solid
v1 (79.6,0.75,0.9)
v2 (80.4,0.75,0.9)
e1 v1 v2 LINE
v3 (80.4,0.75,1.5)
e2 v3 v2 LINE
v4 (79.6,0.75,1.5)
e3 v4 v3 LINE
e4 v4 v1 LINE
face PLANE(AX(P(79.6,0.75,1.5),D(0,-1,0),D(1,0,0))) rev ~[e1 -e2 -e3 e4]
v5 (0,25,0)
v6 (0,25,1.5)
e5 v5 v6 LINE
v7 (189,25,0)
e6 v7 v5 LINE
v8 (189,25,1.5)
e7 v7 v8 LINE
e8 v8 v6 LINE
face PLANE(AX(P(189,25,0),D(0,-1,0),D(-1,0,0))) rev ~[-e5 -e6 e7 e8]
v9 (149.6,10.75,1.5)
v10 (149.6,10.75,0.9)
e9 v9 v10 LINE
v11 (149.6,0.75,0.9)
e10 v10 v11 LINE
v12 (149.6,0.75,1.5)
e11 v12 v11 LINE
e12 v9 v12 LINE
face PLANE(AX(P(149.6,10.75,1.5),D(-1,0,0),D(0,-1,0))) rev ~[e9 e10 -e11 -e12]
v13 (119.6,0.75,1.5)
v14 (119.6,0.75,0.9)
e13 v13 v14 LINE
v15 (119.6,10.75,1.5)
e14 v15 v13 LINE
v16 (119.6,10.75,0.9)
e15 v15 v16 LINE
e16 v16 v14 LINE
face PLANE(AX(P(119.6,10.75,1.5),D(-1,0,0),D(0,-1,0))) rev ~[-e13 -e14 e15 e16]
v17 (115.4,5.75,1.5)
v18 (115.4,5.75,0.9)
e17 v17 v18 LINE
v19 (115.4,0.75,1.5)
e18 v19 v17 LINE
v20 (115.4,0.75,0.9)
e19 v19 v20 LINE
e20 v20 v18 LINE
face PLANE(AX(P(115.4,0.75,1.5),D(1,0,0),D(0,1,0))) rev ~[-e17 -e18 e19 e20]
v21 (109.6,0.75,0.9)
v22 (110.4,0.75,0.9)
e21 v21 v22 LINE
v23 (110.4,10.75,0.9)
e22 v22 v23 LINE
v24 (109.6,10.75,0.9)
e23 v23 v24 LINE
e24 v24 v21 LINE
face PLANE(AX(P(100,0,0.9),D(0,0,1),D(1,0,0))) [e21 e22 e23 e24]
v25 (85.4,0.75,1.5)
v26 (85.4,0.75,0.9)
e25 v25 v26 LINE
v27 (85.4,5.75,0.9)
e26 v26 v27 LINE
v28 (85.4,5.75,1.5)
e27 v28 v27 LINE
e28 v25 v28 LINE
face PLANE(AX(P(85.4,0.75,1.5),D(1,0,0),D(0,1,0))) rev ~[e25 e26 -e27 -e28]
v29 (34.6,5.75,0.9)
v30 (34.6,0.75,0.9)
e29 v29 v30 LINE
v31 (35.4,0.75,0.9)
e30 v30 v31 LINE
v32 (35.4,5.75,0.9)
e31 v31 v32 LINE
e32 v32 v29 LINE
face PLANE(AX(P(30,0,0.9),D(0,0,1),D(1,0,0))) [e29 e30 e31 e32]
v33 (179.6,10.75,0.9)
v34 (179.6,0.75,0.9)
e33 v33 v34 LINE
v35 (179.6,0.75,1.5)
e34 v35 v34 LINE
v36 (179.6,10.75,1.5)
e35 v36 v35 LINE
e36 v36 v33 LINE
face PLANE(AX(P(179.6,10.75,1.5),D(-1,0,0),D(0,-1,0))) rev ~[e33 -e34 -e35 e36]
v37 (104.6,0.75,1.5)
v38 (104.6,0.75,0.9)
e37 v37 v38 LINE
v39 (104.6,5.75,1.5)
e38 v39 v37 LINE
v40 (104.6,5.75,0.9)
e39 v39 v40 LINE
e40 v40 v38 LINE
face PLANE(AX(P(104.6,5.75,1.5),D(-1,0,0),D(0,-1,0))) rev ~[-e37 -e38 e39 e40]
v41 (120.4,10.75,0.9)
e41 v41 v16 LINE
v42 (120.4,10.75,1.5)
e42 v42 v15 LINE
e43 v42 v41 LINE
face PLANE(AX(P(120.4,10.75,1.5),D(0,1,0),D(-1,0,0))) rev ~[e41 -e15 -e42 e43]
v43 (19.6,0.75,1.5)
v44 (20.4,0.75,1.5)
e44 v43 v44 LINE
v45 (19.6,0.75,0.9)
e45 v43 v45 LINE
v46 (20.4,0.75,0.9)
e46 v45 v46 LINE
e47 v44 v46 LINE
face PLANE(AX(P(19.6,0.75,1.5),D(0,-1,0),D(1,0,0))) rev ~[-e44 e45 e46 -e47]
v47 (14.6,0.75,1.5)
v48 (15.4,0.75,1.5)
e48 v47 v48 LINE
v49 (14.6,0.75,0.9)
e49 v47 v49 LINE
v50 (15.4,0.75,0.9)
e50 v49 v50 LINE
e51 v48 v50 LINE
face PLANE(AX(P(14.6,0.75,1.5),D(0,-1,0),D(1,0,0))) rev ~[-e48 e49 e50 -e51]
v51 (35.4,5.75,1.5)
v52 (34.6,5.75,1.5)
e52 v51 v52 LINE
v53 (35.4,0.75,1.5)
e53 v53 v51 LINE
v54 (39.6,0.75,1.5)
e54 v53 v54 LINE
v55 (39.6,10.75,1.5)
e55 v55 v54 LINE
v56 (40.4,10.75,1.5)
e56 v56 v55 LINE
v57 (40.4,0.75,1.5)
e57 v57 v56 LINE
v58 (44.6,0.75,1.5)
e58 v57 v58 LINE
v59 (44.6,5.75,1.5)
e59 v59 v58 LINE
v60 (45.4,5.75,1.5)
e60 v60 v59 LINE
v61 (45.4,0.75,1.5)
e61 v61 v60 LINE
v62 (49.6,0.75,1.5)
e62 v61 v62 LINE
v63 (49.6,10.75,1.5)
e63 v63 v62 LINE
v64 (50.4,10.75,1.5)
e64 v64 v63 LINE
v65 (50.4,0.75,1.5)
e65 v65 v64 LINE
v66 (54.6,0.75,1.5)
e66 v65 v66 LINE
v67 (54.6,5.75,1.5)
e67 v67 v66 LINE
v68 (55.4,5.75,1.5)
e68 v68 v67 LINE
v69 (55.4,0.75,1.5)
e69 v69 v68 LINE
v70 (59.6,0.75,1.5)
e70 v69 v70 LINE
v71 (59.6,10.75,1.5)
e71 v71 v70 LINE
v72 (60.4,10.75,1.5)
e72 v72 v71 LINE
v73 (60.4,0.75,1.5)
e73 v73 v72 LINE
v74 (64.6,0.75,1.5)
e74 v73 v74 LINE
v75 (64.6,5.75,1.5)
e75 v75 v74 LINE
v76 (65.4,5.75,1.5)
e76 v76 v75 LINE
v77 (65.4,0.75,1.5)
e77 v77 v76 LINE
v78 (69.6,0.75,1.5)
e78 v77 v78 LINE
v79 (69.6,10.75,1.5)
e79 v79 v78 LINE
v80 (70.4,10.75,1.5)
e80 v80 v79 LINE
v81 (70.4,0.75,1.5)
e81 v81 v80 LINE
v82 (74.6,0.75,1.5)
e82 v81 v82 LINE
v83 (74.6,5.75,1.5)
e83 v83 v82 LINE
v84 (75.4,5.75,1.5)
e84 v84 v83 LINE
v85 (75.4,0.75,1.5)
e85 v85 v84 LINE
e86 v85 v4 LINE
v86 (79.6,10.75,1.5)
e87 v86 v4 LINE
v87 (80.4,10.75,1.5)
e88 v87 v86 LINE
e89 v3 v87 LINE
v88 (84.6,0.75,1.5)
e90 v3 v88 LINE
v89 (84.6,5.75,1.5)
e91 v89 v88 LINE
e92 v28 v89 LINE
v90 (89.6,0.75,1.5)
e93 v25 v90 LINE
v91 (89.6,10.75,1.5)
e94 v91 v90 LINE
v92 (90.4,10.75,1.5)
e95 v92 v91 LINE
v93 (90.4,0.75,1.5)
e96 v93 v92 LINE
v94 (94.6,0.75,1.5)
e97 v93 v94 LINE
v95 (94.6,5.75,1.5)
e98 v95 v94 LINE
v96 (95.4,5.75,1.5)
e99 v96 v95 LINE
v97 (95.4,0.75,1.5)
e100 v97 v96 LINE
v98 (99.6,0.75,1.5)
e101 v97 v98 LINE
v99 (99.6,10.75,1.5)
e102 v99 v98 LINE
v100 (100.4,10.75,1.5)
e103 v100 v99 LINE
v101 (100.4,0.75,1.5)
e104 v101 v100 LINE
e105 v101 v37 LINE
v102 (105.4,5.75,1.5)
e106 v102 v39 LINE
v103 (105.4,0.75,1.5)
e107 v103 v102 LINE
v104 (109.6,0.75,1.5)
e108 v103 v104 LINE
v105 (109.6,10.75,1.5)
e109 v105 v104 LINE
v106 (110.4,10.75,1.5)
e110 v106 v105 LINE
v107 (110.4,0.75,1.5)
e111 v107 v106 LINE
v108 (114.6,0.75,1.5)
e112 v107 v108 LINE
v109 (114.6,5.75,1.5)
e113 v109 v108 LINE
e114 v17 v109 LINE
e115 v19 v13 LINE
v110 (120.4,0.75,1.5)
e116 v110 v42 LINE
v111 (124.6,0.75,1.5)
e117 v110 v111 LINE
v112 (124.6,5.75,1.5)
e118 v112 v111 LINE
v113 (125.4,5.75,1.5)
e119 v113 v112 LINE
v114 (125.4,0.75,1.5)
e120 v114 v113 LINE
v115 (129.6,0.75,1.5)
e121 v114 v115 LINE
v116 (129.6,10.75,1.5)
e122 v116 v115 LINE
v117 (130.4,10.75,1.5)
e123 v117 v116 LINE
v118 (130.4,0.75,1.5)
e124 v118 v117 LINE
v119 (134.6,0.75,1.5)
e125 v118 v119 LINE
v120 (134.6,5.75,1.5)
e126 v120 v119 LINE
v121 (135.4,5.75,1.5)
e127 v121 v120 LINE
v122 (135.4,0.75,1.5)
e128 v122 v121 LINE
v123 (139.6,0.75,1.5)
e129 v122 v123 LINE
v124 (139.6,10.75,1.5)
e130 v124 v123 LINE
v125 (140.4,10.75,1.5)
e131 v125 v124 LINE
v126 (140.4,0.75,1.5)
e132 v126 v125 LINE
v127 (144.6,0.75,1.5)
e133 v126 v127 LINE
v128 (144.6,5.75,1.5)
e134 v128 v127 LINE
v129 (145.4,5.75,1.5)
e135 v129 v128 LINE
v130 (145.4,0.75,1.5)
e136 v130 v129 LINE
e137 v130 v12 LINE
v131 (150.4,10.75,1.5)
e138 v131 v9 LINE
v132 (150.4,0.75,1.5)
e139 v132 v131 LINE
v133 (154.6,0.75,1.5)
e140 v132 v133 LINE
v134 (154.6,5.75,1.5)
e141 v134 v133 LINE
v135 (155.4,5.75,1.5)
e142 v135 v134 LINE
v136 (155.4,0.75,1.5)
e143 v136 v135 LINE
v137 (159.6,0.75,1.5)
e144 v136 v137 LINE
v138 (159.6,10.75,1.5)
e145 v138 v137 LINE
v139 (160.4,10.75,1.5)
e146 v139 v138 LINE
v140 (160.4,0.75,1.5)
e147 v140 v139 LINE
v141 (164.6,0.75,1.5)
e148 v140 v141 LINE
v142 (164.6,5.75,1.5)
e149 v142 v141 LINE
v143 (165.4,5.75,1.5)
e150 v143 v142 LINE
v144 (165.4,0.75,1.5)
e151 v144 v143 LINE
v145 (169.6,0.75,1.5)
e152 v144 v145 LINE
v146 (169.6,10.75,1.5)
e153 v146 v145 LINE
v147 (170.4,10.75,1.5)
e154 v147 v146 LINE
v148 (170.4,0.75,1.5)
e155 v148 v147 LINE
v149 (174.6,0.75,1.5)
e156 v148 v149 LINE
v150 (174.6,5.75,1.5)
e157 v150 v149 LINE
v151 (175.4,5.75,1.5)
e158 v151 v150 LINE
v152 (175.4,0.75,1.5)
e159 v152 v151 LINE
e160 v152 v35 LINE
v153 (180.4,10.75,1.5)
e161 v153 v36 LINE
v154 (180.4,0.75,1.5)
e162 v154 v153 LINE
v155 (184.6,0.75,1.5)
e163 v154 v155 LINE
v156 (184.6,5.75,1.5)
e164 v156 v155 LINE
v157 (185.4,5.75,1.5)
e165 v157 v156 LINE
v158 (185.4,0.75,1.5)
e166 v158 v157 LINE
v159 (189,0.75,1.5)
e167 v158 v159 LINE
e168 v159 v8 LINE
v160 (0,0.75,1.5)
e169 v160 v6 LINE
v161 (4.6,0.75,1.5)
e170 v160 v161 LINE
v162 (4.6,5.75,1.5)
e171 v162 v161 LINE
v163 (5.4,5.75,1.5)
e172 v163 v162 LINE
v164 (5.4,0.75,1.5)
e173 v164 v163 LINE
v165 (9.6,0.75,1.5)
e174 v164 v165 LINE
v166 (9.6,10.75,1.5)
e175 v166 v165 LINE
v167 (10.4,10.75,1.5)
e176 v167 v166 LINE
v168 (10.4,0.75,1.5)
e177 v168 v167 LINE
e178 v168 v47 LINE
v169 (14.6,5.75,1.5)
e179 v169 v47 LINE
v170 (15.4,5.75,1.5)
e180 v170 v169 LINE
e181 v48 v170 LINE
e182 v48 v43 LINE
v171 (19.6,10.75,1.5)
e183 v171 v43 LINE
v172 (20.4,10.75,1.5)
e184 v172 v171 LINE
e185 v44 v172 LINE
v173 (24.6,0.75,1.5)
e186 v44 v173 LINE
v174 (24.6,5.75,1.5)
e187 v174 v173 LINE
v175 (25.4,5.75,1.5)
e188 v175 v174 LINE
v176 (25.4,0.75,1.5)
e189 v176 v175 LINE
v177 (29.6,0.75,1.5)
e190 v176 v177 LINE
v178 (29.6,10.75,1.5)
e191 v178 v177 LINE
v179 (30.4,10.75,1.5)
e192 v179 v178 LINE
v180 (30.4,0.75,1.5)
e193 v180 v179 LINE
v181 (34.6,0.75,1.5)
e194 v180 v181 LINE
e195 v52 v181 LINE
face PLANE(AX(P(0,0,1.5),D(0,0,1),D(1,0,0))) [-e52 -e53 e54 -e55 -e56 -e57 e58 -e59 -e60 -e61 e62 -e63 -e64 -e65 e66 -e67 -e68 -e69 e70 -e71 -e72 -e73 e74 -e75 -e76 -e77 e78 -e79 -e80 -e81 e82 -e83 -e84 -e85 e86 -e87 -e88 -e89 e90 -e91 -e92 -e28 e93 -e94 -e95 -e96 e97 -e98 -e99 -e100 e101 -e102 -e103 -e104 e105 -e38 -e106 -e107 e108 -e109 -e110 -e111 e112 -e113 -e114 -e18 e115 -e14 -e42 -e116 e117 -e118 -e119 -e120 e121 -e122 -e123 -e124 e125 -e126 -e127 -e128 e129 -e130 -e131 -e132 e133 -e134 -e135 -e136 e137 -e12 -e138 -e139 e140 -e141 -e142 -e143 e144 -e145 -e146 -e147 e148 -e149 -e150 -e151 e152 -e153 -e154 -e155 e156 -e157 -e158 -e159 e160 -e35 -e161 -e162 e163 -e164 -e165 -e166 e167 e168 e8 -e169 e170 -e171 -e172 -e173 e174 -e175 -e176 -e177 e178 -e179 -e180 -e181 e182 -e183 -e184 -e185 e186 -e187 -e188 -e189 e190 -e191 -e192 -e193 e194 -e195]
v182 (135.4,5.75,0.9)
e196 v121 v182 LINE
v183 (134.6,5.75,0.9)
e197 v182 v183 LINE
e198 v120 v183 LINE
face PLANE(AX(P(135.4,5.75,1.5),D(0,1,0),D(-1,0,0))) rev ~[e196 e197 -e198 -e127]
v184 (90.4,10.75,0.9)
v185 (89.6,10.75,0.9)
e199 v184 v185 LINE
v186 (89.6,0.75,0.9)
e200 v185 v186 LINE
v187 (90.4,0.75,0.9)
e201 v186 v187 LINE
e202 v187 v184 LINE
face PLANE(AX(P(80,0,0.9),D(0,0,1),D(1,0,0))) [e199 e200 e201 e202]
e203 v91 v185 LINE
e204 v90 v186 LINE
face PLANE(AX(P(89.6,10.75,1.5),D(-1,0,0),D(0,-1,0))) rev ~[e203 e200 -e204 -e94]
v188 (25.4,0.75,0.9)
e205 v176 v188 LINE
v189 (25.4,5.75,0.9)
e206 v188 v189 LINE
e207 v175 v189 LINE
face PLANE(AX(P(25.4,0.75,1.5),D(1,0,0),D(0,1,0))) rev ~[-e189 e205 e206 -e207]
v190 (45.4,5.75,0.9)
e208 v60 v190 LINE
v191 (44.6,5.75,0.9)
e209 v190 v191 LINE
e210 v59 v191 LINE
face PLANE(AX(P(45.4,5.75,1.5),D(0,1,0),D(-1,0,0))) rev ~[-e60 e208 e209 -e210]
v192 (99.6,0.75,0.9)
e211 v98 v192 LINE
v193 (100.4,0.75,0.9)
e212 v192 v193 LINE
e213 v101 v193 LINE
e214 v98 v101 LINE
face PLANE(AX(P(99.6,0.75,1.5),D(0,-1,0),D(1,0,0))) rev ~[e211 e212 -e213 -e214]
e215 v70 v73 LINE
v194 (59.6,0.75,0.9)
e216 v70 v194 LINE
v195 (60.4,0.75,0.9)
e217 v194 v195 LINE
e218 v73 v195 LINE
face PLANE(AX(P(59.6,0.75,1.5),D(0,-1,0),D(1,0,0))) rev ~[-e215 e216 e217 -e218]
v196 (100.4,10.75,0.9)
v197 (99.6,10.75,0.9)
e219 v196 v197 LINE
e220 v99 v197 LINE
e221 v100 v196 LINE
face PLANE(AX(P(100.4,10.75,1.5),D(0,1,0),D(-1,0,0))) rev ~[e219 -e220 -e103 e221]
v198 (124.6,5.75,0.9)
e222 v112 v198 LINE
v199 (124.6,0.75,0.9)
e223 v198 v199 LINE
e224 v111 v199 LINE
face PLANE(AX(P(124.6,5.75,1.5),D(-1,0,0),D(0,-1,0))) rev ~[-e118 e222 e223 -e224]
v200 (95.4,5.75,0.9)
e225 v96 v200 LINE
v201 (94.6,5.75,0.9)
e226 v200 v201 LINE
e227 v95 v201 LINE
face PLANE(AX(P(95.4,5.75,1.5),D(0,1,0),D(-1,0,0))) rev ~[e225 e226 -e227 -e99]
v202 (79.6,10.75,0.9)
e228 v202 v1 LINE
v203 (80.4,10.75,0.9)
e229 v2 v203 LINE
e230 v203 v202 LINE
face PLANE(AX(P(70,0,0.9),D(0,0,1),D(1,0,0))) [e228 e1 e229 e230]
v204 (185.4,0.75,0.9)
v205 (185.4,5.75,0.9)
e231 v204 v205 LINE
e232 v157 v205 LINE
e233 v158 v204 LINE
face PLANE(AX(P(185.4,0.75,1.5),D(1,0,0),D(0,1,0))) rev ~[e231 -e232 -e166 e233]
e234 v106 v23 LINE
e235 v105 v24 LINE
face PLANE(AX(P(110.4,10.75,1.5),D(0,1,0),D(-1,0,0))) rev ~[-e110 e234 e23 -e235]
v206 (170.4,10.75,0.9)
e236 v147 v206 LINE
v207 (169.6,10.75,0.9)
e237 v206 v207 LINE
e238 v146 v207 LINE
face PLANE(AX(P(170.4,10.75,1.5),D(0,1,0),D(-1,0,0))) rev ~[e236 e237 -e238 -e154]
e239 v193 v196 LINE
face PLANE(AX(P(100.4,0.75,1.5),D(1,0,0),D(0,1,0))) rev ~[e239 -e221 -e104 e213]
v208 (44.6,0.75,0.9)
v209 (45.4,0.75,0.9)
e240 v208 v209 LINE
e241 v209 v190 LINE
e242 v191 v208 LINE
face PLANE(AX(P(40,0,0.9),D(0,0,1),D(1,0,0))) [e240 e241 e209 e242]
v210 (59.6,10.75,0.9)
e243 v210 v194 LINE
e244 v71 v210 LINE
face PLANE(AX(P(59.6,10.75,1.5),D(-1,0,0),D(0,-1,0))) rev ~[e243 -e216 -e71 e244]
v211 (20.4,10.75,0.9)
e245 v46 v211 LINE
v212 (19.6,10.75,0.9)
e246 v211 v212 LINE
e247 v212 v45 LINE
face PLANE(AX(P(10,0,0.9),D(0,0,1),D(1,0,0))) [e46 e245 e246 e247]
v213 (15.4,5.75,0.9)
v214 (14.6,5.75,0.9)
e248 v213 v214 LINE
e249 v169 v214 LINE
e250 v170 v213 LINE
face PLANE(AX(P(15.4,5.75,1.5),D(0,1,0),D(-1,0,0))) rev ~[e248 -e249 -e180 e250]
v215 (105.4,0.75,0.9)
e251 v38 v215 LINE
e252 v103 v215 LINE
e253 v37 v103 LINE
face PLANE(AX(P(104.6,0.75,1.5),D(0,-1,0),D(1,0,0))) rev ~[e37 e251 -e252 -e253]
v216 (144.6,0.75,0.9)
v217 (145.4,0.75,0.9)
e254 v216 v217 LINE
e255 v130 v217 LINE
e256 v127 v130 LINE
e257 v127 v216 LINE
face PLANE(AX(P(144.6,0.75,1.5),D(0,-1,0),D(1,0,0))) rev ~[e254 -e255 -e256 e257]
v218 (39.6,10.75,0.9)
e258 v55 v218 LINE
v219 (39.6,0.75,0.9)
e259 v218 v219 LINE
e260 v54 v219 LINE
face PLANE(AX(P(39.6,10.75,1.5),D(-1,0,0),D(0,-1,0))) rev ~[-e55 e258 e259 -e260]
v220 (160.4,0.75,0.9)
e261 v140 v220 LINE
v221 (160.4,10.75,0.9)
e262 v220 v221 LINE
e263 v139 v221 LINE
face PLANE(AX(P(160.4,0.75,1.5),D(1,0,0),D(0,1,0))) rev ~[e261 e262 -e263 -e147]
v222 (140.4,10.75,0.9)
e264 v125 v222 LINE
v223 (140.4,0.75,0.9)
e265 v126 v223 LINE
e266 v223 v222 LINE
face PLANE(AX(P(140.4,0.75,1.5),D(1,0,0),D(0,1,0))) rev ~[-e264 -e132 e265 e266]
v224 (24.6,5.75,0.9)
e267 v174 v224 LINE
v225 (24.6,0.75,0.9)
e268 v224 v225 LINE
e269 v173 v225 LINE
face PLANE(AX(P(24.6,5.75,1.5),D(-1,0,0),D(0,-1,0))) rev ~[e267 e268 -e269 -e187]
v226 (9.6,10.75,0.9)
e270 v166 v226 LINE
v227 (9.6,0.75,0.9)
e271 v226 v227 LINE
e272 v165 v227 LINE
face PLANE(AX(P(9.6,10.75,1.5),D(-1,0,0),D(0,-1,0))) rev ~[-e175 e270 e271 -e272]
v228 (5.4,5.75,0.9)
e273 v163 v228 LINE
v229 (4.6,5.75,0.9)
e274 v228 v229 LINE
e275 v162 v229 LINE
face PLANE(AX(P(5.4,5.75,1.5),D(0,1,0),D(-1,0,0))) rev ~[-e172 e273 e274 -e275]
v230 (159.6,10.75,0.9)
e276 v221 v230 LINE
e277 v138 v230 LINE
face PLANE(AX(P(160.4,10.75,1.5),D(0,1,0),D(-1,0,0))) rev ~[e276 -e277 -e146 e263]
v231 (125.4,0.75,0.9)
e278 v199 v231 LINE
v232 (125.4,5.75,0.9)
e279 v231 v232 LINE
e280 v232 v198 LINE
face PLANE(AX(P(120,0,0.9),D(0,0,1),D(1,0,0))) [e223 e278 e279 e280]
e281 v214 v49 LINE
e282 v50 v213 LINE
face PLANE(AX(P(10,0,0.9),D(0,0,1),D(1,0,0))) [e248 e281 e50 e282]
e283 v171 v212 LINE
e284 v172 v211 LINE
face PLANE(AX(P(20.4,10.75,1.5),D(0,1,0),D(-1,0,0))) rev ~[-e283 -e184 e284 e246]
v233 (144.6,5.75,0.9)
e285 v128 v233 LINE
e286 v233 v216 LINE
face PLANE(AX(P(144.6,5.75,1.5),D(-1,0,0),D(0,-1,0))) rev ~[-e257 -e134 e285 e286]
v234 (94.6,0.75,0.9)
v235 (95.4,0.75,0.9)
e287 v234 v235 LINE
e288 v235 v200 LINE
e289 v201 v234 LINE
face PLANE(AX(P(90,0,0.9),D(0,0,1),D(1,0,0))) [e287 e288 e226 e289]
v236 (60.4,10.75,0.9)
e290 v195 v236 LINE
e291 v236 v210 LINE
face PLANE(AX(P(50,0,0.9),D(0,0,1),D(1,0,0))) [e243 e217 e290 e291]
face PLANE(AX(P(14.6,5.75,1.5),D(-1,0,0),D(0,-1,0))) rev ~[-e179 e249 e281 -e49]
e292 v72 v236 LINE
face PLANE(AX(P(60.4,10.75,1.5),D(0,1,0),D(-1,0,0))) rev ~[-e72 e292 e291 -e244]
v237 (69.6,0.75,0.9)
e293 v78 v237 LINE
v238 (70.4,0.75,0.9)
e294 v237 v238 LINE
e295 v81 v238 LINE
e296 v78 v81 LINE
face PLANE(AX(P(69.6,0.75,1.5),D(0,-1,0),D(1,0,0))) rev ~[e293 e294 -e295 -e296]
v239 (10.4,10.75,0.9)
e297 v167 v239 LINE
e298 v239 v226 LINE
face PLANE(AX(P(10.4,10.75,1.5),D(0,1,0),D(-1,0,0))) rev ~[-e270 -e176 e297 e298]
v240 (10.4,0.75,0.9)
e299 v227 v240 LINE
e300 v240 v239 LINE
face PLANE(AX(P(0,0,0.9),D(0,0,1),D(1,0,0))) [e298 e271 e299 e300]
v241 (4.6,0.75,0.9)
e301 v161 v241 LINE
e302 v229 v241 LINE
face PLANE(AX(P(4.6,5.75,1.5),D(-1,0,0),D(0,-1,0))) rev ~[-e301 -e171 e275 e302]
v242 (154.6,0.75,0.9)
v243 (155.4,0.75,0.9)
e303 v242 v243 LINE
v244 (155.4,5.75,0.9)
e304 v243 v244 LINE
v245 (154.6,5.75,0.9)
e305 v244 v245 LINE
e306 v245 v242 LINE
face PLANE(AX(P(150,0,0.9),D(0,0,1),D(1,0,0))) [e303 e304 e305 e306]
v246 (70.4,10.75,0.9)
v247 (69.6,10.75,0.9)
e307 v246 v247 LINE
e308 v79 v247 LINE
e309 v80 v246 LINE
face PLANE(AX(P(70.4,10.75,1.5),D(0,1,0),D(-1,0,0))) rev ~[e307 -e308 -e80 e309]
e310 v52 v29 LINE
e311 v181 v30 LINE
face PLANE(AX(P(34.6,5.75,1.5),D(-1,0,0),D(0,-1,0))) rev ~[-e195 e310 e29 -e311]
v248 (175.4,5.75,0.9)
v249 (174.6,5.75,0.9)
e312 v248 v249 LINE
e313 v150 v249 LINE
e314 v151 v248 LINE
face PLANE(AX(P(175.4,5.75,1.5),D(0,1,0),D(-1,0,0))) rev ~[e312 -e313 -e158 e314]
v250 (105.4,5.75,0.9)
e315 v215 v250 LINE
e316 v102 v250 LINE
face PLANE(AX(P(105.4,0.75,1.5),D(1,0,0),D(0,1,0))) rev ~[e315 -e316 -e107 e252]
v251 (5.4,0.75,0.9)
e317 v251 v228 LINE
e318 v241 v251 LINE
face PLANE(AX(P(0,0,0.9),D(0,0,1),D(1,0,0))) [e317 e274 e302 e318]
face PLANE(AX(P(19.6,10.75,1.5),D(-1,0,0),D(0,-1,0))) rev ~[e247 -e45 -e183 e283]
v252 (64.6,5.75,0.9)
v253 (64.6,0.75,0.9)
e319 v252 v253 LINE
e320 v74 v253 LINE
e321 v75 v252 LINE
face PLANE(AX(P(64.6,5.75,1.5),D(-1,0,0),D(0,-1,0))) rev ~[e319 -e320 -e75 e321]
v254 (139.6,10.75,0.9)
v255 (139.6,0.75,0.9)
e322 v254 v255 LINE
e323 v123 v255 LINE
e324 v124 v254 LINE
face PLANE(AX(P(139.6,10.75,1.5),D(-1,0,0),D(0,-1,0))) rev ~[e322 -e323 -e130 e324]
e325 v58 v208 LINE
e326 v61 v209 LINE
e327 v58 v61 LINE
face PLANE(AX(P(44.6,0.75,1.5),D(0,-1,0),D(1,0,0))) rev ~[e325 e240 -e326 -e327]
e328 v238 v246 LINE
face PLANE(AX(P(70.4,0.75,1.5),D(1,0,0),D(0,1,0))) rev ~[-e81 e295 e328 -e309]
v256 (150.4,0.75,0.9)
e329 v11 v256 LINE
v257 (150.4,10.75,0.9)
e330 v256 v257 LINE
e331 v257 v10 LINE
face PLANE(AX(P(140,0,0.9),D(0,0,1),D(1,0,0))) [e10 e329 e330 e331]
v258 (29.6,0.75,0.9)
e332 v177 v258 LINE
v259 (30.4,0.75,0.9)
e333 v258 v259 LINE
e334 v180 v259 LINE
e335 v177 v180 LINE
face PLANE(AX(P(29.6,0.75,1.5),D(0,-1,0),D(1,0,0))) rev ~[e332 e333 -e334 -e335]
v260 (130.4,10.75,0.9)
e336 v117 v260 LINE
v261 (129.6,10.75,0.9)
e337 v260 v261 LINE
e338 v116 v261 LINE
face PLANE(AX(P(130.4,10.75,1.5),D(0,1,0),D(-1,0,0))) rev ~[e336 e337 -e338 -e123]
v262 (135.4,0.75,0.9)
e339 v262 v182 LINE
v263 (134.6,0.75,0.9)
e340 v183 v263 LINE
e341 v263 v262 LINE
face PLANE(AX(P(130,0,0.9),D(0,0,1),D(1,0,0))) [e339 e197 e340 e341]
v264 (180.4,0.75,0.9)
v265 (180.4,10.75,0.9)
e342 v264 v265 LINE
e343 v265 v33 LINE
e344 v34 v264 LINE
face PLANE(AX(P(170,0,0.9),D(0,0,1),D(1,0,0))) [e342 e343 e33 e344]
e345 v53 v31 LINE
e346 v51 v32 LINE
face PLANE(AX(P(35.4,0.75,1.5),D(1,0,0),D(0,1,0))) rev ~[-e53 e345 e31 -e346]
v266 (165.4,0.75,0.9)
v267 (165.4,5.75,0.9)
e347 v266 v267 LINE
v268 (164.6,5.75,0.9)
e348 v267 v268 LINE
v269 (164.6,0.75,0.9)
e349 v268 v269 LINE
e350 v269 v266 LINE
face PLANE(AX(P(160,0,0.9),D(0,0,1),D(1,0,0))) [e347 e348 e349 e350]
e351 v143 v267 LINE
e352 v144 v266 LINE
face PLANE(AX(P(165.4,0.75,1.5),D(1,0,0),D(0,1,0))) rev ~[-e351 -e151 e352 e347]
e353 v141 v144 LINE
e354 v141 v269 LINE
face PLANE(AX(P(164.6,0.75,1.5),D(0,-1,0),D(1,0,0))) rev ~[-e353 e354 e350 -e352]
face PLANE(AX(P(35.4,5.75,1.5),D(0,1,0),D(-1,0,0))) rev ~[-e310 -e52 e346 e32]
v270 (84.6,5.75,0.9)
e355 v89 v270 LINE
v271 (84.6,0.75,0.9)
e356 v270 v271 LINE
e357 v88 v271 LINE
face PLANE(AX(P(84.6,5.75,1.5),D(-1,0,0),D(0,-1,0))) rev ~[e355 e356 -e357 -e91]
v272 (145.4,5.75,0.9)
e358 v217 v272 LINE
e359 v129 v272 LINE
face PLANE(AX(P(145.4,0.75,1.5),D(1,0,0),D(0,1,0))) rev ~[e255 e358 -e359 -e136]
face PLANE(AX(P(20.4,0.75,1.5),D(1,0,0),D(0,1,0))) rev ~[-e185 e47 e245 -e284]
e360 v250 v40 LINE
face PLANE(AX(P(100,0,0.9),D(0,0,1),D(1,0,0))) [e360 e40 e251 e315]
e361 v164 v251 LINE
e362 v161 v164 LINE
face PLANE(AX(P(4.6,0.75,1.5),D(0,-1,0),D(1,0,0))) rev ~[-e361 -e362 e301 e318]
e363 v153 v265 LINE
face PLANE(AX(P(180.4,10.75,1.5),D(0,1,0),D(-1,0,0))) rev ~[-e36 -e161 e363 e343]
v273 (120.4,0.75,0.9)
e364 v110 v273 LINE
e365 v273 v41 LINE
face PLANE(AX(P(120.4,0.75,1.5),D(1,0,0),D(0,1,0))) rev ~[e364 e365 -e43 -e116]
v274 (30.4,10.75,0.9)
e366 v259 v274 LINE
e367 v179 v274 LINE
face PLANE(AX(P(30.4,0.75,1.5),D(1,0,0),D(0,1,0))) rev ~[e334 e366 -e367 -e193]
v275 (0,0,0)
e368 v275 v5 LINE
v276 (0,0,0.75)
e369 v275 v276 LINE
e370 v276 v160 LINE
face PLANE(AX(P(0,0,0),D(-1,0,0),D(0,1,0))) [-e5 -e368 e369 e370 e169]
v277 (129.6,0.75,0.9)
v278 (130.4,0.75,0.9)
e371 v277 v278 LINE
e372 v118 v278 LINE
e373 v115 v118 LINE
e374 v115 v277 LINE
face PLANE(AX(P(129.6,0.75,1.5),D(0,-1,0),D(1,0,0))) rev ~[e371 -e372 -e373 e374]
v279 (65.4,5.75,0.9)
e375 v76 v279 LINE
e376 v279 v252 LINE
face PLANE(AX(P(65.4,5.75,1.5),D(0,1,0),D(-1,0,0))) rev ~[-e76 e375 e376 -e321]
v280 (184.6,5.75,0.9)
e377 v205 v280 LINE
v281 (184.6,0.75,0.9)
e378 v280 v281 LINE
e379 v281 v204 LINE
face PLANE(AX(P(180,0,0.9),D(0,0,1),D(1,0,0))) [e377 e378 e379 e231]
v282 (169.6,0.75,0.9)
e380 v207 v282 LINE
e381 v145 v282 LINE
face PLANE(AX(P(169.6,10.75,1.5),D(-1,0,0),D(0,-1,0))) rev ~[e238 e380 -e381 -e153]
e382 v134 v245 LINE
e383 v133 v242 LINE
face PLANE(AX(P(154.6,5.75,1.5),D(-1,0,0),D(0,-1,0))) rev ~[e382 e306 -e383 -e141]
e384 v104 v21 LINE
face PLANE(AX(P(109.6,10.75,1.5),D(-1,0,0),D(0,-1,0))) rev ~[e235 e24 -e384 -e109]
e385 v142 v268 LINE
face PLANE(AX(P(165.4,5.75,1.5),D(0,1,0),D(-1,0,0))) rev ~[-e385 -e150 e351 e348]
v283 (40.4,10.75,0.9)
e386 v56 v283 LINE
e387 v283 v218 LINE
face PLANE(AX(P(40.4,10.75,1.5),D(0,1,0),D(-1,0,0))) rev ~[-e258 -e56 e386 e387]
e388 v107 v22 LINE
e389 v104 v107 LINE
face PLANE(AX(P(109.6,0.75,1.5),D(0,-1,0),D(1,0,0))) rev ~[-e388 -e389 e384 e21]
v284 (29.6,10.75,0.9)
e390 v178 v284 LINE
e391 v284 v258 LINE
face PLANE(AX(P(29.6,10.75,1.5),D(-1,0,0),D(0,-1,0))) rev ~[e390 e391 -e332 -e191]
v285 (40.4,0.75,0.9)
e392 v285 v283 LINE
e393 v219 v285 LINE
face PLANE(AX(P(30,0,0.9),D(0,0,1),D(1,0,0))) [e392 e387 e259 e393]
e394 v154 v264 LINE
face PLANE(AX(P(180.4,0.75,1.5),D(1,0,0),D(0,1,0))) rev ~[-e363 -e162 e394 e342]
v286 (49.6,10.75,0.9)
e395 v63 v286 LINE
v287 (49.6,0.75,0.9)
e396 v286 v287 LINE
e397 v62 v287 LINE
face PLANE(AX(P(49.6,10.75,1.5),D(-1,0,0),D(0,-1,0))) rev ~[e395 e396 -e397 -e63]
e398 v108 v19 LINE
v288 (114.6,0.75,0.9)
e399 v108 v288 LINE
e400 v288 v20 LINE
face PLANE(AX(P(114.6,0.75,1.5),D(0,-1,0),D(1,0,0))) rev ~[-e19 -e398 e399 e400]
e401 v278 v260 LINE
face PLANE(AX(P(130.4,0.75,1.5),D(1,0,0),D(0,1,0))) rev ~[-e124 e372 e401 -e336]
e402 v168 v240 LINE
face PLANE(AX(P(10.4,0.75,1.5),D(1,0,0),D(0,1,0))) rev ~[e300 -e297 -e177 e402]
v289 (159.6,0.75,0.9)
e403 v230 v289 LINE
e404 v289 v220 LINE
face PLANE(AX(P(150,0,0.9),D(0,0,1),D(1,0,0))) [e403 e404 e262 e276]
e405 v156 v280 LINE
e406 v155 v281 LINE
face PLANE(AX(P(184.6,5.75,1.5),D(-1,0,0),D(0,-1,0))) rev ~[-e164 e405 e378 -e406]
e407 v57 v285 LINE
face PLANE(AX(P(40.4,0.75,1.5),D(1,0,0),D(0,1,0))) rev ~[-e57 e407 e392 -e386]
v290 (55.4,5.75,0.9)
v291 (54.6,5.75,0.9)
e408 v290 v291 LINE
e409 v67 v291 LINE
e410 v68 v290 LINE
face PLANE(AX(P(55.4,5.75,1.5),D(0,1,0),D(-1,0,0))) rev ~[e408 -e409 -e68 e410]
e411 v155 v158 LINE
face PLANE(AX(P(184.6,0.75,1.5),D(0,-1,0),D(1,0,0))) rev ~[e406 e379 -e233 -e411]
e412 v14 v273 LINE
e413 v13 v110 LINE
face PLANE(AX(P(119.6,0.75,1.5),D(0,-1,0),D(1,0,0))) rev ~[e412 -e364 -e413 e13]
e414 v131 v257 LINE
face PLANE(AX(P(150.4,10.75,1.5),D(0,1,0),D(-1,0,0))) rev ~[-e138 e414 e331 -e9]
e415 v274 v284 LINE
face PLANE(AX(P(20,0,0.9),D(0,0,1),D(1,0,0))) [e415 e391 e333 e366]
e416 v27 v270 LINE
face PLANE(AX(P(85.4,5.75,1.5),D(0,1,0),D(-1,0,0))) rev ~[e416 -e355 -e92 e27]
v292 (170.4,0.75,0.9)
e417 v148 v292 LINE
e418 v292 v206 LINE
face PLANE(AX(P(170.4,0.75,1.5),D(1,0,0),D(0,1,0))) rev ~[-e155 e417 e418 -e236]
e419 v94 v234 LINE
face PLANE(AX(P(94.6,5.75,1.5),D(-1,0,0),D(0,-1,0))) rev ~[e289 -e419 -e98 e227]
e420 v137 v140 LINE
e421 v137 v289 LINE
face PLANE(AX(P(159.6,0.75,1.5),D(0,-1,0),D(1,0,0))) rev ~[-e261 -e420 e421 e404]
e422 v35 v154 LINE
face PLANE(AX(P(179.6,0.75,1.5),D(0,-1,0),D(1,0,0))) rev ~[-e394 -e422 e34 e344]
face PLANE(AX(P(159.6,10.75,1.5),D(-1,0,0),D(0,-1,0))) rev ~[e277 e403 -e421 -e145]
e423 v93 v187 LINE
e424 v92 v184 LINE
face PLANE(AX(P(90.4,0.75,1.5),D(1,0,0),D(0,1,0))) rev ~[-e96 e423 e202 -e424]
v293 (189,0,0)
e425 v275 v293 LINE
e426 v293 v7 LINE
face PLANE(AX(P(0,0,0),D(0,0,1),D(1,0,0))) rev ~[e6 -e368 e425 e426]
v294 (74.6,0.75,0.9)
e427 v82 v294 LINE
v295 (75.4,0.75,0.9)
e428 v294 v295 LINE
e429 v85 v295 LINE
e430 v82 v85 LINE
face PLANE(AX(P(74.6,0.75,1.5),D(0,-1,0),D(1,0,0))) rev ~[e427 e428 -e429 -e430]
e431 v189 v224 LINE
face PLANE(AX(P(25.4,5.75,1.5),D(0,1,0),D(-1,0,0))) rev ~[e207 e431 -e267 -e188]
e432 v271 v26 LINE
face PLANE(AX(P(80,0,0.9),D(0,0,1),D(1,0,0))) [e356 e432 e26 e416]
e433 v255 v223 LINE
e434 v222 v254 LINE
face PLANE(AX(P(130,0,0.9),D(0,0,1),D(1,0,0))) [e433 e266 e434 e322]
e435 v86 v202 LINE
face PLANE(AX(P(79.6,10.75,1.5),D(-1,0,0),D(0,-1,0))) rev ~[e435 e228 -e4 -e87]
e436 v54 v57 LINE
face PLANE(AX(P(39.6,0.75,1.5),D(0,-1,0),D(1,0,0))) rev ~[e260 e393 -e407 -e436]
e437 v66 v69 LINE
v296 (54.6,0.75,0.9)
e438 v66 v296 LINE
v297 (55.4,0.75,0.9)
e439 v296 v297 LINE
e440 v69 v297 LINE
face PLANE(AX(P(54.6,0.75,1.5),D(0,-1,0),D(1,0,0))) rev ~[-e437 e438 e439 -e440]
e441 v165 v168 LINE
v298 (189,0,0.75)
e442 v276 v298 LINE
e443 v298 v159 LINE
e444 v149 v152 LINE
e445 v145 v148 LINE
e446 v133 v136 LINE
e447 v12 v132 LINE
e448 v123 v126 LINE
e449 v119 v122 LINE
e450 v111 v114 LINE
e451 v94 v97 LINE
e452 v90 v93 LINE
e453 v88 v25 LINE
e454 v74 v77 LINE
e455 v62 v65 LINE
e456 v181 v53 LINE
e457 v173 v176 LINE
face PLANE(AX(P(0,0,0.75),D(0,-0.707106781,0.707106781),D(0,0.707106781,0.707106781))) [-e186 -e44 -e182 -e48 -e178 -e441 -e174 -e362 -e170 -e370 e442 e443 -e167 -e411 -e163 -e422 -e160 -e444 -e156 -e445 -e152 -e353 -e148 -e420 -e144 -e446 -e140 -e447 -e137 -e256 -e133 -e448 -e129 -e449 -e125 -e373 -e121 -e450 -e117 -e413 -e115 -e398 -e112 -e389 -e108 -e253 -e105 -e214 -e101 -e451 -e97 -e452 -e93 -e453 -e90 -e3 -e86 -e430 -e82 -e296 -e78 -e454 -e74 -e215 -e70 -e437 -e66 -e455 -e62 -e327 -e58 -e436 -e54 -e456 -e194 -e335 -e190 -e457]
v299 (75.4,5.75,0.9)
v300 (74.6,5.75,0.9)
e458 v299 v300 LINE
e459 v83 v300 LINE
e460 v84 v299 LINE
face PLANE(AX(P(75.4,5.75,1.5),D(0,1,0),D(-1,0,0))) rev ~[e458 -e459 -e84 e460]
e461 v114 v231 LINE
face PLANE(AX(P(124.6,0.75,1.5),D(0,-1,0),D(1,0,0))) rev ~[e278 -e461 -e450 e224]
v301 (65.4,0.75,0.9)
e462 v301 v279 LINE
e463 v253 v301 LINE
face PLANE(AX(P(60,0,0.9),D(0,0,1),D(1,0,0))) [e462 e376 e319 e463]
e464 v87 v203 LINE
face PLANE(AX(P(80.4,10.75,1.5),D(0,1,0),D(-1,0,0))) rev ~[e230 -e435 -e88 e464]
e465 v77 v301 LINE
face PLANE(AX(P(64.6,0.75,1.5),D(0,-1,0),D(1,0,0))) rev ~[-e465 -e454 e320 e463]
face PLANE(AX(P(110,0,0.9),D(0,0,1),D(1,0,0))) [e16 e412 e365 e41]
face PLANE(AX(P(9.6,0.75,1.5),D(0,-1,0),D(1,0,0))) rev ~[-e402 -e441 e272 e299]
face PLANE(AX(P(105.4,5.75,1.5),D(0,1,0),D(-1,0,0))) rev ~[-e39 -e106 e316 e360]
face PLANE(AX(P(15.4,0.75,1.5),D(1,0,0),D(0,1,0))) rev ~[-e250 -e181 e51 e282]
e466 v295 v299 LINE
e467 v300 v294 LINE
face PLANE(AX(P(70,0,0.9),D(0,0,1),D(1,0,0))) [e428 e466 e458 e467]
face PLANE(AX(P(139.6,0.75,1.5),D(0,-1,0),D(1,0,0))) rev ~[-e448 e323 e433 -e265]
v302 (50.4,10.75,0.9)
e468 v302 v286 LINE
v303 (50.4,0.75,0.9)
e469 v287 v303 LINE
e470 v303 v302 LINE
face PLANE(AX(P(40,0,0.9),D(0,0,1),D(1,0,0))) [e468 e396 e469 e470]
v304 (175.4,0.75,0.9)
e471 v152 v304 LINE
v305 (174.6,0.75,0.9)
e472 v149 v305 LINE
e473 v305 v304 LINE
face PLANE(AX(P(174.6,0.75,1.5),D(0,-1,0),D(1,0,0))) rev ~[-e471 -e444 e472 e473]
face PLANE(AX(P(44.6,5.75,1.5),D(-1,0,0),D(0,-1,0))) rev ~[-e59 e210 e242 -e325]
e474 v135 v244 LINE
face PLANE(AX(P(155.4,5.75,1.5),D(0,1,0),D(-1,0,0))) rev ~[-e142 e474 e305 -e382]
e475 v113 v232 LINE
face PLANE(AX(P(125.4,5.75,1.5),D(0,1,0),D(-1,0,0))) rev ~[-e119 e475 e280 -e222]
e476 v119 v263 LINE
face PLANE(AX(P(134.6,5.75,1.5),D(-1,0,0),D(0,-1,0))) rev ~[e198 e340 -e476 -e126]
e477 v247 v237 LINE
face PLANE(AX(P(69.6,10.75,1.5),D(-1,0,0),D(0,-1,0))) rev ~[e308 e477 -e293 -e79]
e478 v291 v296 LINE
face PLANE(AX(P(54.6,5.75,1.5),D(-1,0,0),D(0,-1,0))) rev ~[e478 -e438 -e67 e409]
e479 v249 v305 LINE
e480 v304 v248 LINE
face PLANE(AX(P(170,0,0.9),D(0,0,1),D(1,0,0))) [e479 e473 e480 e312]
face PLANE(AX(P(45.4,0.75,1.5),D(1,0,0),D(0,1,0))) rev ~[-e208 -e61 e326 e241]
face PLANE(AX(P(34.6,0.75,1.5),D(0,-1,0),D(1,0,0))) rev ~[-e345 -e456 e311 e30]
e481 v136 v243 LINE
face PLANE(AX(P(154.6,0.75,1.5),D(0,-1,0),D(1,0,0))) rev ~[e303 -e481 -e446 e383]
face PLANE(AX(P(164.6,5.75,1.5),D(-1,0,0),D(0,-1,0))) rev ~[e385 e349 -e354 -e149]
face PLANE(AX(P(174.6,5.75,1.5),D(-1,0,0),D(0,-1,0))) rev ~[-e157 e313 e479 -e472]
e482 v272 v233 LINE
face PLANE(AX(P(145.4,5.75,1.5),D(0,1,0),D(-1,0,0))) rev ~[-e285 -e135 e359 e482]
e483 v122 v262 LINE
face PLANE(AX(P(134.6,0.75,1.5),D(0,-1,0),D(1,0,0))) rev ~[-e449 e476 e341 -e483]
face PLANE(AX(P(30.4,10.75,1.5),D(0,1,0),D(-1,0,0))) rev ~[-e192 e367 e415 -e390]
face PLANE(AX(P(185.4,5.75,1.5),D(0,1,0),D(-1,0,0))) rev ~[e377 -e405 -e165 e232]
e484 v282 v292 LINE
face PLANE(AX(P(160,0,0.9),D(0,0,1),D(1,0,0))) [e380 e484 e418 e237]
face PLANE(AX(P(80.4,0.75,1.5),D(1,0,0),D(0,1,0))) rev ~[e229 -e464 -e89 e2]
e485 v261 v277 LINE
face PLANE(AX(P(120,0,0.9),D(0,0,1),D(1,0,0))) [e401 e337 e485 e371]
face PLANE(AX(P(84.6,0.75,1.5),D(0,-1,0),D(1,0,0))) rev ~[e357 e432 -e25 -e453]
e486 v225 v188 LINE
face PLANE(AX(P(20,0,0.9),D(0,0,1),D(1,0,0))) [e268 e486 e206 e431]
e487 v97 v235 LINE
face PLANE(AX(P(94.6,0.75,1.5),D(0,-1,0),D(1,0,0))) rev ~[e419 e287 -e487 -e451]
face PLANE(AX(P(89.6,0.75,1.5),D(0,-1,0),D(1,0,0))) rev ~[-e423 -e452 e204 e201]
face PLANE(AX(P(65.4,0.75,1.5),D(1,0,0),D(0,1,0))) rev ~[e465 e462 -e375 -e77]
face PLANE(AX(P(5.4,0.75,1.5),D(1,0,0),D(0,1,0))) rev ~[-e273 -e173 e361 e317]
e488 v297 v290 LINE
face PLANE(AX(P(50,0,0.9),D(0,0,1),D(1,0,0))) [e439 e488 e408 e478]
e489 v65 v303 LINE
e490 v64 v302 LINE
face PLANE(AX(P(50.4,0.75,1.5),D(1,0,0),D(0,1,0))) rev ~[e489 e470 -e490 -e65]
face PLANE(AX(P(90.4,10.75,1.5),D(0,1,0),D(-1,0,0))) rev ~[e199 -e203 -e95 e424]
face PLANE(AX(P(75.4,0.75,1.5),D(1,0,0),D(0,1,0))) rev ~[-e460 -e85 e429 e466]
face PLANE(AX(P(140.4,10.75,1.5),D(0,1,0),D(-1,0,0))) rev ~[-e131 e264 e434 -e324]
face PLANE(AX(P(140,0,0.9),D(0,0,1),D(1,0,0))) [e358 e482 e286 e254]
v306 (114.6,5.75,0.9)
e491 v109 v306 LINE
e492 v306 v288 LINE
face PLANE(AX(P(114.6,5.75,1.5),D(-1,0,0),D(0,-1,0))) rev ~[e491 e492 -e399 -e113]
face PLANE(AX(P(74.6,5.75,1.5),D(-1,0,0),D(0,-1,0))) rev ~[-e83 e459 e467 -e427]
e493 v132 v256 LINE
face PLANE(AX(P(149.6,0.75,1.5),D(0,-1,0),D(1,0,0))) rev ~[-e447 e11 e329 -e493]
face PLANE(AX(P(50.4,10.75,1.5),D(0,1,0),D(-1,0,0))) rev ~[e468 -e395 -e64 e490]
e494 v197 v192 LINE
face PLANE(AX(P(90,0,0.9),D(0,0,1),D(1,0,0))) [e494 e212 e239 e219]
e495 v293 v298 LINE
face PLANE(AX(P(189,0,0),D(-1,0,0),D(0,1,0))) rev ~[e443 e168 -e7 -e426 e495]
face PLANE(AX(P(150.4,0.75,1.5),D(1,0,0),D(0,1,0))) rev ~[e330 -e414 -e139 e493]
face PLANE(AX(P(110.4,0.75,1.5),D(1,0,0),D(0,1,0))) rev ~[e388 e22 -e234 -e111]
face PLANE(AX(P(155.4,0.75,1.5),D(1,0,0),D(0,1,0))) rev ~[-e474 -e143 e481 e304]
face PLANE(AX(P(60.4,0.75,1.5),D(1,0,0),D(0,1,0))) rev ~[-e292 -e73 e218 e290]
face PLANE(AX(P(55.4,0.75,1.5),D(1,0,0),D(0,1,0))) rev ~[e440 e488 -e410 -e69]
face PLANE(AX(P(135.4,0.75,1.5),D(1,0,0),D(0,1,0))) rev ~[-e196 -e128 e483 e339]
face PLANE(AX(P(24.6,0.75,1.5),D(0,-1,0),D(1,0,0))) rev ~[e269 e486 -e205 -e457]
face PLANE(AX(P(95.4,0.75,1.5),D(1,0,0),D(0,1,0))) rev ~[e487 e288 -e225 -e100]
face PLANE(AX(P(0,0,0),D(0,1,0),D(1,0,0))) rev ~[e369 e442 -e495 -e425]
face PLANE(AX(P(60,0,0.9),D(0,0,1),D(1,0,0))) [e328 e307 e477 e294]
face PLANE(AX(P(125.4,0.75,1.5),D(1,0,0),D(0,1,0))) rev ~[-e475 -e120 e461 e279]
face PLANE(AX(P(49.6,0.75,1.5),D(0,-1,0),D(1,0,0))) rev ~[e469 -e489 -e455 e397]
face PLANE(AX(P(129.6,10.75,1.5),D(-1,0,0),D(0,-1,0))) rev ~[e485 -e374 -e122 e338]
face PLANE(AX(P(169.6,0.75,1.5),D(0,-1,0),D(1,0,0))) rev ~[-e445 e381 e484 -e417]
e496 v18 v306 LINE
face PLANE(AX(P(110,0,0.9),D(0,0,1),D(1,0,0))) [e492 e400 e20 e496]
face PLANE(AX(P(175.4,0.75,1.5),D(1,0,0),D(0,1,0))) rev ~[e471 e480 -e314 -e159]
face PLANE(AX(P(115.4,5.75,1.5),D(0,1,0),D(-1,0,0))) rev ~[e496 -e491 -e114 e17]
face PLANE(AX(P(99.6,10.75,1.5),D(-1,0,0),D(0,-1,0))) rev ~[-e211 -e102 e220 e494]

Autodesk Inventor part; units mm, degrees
ref_plane "YZ Plane" through (0, 0, 0) normal (1, 0, 0) x (0, 1, 0)
ref_plane "XZ Plane" through (0, 0, 0) normal (0, 1, 0) x (-1, 0, 0)
ref_plane "XY Plane" through (0, 0, 0) normal (0, 0, 1) x (1, 0, 0)
sketch "Sketch1" plane through (0, 0, 0) normal (0, 0, 1) x (1, 0, 0)
  line L0 (-37.8, 0) -> (226.8, 0) projected
  line L1 (0, -5) -> (0, 30) projected
  line L2 (0, 0) -> (189, 0)
  line L3 (189, 0) -> (189, 25)
  line L4 (189, 25) -> (0, 25)
  line L5 (0, 25) -> (0, 0)
  dimension "d0" = 189
  dimension "d1" = 25
extrude "Extrusion1" add sketch "Sketch1" along normal blind 1.5
sketch "Sketch6" plane through (0, 0, 0) normal (-1, 0, 0) x (0, 0, 1)
  line L0 (0, 25) -> (0, 0) projected
  line L1 (0, 0) -> (1.5, 0) projected
  line L2 (1.5, 25) -> (1.5, 0) projected
  line L3 (0, 25) -> (1.5, 25) projected
  line L4 (0, 0) -> (1.5, 0) projected
  line L5 (1.5, 0) -> (0.75, 0)
  line L6 (0.75, 0) -> (1.5, 0.75)
  line L7 (0.75, 0) -> (1.2803, 0) construction
  line L8 (1.5, 0.75) -> (1.5, 0)
  line L9 (0, 0) -> (1.5, 0) projected
  point P0 (0.75, 0)
  dimension "d42" = 45
extrude "Extrusion6" cut sketch "Sketch6" against normal through all contours L6 L2 L1
sketch "Sketch7" plane through (0, 0, 1.5) normal (0, 0, 1) x (1, 0, 0)
  line L0 (0, 0.75) -> (189, 0.75) projected
  line L1 (189, 0.75) -> (189, 25) projected
  line L2 (189, 25) -> (0, 25) projected
  line L3 (0, 25) -> (0, 0.75) projected
  line L4 (0, 0.75) -> (189, 0.75) projected
  line L5 (4.6, 0.75) -> (5.4, 0.75)
  line L6 (5.4, 0.75) -> (5.4, 5.75)
  line L7 (5.4, 5.75) -> (4.6, 5.75)
  line L8 (4.6, 5.75) -> (4.6, 0.75)
  line L9 (5, 5.75) -> (5, 6.75) construction
  line L10 (9.6, 0.75) -> (10.4, 0.75)
  line L11 (10.4, 0.75) -> (10.4, 10.75)
  line L12 (10.4, 10.75) -> (9.6, 10.75)
  line L13 (9.6, 10.75) -> (9.6, 0.75)
  line L14 (10, 10.75) -> (10, 11.75) construction
  point P0 (0, 0)
  dimension "d45" = 0.8
  dimension "d46" = 5
  dimension "d47" = 1
  dimension "d48" = 5
  dimension "d49" = 0.8
  dimension "d50" = 10
  dimension "d51" = 1
  dimension "d52" = 5
extrude "Extrusion7" cut sketch "Sketch7" against normal blind 0.6 contours L8 L7 L6 L0 | L13 L12 L11 L0
pattern_linear "Rectangular Pattern3" count 19 spacing 10 along (1, 0, 0) of "Extrusion7"
properties part number "ruler"
